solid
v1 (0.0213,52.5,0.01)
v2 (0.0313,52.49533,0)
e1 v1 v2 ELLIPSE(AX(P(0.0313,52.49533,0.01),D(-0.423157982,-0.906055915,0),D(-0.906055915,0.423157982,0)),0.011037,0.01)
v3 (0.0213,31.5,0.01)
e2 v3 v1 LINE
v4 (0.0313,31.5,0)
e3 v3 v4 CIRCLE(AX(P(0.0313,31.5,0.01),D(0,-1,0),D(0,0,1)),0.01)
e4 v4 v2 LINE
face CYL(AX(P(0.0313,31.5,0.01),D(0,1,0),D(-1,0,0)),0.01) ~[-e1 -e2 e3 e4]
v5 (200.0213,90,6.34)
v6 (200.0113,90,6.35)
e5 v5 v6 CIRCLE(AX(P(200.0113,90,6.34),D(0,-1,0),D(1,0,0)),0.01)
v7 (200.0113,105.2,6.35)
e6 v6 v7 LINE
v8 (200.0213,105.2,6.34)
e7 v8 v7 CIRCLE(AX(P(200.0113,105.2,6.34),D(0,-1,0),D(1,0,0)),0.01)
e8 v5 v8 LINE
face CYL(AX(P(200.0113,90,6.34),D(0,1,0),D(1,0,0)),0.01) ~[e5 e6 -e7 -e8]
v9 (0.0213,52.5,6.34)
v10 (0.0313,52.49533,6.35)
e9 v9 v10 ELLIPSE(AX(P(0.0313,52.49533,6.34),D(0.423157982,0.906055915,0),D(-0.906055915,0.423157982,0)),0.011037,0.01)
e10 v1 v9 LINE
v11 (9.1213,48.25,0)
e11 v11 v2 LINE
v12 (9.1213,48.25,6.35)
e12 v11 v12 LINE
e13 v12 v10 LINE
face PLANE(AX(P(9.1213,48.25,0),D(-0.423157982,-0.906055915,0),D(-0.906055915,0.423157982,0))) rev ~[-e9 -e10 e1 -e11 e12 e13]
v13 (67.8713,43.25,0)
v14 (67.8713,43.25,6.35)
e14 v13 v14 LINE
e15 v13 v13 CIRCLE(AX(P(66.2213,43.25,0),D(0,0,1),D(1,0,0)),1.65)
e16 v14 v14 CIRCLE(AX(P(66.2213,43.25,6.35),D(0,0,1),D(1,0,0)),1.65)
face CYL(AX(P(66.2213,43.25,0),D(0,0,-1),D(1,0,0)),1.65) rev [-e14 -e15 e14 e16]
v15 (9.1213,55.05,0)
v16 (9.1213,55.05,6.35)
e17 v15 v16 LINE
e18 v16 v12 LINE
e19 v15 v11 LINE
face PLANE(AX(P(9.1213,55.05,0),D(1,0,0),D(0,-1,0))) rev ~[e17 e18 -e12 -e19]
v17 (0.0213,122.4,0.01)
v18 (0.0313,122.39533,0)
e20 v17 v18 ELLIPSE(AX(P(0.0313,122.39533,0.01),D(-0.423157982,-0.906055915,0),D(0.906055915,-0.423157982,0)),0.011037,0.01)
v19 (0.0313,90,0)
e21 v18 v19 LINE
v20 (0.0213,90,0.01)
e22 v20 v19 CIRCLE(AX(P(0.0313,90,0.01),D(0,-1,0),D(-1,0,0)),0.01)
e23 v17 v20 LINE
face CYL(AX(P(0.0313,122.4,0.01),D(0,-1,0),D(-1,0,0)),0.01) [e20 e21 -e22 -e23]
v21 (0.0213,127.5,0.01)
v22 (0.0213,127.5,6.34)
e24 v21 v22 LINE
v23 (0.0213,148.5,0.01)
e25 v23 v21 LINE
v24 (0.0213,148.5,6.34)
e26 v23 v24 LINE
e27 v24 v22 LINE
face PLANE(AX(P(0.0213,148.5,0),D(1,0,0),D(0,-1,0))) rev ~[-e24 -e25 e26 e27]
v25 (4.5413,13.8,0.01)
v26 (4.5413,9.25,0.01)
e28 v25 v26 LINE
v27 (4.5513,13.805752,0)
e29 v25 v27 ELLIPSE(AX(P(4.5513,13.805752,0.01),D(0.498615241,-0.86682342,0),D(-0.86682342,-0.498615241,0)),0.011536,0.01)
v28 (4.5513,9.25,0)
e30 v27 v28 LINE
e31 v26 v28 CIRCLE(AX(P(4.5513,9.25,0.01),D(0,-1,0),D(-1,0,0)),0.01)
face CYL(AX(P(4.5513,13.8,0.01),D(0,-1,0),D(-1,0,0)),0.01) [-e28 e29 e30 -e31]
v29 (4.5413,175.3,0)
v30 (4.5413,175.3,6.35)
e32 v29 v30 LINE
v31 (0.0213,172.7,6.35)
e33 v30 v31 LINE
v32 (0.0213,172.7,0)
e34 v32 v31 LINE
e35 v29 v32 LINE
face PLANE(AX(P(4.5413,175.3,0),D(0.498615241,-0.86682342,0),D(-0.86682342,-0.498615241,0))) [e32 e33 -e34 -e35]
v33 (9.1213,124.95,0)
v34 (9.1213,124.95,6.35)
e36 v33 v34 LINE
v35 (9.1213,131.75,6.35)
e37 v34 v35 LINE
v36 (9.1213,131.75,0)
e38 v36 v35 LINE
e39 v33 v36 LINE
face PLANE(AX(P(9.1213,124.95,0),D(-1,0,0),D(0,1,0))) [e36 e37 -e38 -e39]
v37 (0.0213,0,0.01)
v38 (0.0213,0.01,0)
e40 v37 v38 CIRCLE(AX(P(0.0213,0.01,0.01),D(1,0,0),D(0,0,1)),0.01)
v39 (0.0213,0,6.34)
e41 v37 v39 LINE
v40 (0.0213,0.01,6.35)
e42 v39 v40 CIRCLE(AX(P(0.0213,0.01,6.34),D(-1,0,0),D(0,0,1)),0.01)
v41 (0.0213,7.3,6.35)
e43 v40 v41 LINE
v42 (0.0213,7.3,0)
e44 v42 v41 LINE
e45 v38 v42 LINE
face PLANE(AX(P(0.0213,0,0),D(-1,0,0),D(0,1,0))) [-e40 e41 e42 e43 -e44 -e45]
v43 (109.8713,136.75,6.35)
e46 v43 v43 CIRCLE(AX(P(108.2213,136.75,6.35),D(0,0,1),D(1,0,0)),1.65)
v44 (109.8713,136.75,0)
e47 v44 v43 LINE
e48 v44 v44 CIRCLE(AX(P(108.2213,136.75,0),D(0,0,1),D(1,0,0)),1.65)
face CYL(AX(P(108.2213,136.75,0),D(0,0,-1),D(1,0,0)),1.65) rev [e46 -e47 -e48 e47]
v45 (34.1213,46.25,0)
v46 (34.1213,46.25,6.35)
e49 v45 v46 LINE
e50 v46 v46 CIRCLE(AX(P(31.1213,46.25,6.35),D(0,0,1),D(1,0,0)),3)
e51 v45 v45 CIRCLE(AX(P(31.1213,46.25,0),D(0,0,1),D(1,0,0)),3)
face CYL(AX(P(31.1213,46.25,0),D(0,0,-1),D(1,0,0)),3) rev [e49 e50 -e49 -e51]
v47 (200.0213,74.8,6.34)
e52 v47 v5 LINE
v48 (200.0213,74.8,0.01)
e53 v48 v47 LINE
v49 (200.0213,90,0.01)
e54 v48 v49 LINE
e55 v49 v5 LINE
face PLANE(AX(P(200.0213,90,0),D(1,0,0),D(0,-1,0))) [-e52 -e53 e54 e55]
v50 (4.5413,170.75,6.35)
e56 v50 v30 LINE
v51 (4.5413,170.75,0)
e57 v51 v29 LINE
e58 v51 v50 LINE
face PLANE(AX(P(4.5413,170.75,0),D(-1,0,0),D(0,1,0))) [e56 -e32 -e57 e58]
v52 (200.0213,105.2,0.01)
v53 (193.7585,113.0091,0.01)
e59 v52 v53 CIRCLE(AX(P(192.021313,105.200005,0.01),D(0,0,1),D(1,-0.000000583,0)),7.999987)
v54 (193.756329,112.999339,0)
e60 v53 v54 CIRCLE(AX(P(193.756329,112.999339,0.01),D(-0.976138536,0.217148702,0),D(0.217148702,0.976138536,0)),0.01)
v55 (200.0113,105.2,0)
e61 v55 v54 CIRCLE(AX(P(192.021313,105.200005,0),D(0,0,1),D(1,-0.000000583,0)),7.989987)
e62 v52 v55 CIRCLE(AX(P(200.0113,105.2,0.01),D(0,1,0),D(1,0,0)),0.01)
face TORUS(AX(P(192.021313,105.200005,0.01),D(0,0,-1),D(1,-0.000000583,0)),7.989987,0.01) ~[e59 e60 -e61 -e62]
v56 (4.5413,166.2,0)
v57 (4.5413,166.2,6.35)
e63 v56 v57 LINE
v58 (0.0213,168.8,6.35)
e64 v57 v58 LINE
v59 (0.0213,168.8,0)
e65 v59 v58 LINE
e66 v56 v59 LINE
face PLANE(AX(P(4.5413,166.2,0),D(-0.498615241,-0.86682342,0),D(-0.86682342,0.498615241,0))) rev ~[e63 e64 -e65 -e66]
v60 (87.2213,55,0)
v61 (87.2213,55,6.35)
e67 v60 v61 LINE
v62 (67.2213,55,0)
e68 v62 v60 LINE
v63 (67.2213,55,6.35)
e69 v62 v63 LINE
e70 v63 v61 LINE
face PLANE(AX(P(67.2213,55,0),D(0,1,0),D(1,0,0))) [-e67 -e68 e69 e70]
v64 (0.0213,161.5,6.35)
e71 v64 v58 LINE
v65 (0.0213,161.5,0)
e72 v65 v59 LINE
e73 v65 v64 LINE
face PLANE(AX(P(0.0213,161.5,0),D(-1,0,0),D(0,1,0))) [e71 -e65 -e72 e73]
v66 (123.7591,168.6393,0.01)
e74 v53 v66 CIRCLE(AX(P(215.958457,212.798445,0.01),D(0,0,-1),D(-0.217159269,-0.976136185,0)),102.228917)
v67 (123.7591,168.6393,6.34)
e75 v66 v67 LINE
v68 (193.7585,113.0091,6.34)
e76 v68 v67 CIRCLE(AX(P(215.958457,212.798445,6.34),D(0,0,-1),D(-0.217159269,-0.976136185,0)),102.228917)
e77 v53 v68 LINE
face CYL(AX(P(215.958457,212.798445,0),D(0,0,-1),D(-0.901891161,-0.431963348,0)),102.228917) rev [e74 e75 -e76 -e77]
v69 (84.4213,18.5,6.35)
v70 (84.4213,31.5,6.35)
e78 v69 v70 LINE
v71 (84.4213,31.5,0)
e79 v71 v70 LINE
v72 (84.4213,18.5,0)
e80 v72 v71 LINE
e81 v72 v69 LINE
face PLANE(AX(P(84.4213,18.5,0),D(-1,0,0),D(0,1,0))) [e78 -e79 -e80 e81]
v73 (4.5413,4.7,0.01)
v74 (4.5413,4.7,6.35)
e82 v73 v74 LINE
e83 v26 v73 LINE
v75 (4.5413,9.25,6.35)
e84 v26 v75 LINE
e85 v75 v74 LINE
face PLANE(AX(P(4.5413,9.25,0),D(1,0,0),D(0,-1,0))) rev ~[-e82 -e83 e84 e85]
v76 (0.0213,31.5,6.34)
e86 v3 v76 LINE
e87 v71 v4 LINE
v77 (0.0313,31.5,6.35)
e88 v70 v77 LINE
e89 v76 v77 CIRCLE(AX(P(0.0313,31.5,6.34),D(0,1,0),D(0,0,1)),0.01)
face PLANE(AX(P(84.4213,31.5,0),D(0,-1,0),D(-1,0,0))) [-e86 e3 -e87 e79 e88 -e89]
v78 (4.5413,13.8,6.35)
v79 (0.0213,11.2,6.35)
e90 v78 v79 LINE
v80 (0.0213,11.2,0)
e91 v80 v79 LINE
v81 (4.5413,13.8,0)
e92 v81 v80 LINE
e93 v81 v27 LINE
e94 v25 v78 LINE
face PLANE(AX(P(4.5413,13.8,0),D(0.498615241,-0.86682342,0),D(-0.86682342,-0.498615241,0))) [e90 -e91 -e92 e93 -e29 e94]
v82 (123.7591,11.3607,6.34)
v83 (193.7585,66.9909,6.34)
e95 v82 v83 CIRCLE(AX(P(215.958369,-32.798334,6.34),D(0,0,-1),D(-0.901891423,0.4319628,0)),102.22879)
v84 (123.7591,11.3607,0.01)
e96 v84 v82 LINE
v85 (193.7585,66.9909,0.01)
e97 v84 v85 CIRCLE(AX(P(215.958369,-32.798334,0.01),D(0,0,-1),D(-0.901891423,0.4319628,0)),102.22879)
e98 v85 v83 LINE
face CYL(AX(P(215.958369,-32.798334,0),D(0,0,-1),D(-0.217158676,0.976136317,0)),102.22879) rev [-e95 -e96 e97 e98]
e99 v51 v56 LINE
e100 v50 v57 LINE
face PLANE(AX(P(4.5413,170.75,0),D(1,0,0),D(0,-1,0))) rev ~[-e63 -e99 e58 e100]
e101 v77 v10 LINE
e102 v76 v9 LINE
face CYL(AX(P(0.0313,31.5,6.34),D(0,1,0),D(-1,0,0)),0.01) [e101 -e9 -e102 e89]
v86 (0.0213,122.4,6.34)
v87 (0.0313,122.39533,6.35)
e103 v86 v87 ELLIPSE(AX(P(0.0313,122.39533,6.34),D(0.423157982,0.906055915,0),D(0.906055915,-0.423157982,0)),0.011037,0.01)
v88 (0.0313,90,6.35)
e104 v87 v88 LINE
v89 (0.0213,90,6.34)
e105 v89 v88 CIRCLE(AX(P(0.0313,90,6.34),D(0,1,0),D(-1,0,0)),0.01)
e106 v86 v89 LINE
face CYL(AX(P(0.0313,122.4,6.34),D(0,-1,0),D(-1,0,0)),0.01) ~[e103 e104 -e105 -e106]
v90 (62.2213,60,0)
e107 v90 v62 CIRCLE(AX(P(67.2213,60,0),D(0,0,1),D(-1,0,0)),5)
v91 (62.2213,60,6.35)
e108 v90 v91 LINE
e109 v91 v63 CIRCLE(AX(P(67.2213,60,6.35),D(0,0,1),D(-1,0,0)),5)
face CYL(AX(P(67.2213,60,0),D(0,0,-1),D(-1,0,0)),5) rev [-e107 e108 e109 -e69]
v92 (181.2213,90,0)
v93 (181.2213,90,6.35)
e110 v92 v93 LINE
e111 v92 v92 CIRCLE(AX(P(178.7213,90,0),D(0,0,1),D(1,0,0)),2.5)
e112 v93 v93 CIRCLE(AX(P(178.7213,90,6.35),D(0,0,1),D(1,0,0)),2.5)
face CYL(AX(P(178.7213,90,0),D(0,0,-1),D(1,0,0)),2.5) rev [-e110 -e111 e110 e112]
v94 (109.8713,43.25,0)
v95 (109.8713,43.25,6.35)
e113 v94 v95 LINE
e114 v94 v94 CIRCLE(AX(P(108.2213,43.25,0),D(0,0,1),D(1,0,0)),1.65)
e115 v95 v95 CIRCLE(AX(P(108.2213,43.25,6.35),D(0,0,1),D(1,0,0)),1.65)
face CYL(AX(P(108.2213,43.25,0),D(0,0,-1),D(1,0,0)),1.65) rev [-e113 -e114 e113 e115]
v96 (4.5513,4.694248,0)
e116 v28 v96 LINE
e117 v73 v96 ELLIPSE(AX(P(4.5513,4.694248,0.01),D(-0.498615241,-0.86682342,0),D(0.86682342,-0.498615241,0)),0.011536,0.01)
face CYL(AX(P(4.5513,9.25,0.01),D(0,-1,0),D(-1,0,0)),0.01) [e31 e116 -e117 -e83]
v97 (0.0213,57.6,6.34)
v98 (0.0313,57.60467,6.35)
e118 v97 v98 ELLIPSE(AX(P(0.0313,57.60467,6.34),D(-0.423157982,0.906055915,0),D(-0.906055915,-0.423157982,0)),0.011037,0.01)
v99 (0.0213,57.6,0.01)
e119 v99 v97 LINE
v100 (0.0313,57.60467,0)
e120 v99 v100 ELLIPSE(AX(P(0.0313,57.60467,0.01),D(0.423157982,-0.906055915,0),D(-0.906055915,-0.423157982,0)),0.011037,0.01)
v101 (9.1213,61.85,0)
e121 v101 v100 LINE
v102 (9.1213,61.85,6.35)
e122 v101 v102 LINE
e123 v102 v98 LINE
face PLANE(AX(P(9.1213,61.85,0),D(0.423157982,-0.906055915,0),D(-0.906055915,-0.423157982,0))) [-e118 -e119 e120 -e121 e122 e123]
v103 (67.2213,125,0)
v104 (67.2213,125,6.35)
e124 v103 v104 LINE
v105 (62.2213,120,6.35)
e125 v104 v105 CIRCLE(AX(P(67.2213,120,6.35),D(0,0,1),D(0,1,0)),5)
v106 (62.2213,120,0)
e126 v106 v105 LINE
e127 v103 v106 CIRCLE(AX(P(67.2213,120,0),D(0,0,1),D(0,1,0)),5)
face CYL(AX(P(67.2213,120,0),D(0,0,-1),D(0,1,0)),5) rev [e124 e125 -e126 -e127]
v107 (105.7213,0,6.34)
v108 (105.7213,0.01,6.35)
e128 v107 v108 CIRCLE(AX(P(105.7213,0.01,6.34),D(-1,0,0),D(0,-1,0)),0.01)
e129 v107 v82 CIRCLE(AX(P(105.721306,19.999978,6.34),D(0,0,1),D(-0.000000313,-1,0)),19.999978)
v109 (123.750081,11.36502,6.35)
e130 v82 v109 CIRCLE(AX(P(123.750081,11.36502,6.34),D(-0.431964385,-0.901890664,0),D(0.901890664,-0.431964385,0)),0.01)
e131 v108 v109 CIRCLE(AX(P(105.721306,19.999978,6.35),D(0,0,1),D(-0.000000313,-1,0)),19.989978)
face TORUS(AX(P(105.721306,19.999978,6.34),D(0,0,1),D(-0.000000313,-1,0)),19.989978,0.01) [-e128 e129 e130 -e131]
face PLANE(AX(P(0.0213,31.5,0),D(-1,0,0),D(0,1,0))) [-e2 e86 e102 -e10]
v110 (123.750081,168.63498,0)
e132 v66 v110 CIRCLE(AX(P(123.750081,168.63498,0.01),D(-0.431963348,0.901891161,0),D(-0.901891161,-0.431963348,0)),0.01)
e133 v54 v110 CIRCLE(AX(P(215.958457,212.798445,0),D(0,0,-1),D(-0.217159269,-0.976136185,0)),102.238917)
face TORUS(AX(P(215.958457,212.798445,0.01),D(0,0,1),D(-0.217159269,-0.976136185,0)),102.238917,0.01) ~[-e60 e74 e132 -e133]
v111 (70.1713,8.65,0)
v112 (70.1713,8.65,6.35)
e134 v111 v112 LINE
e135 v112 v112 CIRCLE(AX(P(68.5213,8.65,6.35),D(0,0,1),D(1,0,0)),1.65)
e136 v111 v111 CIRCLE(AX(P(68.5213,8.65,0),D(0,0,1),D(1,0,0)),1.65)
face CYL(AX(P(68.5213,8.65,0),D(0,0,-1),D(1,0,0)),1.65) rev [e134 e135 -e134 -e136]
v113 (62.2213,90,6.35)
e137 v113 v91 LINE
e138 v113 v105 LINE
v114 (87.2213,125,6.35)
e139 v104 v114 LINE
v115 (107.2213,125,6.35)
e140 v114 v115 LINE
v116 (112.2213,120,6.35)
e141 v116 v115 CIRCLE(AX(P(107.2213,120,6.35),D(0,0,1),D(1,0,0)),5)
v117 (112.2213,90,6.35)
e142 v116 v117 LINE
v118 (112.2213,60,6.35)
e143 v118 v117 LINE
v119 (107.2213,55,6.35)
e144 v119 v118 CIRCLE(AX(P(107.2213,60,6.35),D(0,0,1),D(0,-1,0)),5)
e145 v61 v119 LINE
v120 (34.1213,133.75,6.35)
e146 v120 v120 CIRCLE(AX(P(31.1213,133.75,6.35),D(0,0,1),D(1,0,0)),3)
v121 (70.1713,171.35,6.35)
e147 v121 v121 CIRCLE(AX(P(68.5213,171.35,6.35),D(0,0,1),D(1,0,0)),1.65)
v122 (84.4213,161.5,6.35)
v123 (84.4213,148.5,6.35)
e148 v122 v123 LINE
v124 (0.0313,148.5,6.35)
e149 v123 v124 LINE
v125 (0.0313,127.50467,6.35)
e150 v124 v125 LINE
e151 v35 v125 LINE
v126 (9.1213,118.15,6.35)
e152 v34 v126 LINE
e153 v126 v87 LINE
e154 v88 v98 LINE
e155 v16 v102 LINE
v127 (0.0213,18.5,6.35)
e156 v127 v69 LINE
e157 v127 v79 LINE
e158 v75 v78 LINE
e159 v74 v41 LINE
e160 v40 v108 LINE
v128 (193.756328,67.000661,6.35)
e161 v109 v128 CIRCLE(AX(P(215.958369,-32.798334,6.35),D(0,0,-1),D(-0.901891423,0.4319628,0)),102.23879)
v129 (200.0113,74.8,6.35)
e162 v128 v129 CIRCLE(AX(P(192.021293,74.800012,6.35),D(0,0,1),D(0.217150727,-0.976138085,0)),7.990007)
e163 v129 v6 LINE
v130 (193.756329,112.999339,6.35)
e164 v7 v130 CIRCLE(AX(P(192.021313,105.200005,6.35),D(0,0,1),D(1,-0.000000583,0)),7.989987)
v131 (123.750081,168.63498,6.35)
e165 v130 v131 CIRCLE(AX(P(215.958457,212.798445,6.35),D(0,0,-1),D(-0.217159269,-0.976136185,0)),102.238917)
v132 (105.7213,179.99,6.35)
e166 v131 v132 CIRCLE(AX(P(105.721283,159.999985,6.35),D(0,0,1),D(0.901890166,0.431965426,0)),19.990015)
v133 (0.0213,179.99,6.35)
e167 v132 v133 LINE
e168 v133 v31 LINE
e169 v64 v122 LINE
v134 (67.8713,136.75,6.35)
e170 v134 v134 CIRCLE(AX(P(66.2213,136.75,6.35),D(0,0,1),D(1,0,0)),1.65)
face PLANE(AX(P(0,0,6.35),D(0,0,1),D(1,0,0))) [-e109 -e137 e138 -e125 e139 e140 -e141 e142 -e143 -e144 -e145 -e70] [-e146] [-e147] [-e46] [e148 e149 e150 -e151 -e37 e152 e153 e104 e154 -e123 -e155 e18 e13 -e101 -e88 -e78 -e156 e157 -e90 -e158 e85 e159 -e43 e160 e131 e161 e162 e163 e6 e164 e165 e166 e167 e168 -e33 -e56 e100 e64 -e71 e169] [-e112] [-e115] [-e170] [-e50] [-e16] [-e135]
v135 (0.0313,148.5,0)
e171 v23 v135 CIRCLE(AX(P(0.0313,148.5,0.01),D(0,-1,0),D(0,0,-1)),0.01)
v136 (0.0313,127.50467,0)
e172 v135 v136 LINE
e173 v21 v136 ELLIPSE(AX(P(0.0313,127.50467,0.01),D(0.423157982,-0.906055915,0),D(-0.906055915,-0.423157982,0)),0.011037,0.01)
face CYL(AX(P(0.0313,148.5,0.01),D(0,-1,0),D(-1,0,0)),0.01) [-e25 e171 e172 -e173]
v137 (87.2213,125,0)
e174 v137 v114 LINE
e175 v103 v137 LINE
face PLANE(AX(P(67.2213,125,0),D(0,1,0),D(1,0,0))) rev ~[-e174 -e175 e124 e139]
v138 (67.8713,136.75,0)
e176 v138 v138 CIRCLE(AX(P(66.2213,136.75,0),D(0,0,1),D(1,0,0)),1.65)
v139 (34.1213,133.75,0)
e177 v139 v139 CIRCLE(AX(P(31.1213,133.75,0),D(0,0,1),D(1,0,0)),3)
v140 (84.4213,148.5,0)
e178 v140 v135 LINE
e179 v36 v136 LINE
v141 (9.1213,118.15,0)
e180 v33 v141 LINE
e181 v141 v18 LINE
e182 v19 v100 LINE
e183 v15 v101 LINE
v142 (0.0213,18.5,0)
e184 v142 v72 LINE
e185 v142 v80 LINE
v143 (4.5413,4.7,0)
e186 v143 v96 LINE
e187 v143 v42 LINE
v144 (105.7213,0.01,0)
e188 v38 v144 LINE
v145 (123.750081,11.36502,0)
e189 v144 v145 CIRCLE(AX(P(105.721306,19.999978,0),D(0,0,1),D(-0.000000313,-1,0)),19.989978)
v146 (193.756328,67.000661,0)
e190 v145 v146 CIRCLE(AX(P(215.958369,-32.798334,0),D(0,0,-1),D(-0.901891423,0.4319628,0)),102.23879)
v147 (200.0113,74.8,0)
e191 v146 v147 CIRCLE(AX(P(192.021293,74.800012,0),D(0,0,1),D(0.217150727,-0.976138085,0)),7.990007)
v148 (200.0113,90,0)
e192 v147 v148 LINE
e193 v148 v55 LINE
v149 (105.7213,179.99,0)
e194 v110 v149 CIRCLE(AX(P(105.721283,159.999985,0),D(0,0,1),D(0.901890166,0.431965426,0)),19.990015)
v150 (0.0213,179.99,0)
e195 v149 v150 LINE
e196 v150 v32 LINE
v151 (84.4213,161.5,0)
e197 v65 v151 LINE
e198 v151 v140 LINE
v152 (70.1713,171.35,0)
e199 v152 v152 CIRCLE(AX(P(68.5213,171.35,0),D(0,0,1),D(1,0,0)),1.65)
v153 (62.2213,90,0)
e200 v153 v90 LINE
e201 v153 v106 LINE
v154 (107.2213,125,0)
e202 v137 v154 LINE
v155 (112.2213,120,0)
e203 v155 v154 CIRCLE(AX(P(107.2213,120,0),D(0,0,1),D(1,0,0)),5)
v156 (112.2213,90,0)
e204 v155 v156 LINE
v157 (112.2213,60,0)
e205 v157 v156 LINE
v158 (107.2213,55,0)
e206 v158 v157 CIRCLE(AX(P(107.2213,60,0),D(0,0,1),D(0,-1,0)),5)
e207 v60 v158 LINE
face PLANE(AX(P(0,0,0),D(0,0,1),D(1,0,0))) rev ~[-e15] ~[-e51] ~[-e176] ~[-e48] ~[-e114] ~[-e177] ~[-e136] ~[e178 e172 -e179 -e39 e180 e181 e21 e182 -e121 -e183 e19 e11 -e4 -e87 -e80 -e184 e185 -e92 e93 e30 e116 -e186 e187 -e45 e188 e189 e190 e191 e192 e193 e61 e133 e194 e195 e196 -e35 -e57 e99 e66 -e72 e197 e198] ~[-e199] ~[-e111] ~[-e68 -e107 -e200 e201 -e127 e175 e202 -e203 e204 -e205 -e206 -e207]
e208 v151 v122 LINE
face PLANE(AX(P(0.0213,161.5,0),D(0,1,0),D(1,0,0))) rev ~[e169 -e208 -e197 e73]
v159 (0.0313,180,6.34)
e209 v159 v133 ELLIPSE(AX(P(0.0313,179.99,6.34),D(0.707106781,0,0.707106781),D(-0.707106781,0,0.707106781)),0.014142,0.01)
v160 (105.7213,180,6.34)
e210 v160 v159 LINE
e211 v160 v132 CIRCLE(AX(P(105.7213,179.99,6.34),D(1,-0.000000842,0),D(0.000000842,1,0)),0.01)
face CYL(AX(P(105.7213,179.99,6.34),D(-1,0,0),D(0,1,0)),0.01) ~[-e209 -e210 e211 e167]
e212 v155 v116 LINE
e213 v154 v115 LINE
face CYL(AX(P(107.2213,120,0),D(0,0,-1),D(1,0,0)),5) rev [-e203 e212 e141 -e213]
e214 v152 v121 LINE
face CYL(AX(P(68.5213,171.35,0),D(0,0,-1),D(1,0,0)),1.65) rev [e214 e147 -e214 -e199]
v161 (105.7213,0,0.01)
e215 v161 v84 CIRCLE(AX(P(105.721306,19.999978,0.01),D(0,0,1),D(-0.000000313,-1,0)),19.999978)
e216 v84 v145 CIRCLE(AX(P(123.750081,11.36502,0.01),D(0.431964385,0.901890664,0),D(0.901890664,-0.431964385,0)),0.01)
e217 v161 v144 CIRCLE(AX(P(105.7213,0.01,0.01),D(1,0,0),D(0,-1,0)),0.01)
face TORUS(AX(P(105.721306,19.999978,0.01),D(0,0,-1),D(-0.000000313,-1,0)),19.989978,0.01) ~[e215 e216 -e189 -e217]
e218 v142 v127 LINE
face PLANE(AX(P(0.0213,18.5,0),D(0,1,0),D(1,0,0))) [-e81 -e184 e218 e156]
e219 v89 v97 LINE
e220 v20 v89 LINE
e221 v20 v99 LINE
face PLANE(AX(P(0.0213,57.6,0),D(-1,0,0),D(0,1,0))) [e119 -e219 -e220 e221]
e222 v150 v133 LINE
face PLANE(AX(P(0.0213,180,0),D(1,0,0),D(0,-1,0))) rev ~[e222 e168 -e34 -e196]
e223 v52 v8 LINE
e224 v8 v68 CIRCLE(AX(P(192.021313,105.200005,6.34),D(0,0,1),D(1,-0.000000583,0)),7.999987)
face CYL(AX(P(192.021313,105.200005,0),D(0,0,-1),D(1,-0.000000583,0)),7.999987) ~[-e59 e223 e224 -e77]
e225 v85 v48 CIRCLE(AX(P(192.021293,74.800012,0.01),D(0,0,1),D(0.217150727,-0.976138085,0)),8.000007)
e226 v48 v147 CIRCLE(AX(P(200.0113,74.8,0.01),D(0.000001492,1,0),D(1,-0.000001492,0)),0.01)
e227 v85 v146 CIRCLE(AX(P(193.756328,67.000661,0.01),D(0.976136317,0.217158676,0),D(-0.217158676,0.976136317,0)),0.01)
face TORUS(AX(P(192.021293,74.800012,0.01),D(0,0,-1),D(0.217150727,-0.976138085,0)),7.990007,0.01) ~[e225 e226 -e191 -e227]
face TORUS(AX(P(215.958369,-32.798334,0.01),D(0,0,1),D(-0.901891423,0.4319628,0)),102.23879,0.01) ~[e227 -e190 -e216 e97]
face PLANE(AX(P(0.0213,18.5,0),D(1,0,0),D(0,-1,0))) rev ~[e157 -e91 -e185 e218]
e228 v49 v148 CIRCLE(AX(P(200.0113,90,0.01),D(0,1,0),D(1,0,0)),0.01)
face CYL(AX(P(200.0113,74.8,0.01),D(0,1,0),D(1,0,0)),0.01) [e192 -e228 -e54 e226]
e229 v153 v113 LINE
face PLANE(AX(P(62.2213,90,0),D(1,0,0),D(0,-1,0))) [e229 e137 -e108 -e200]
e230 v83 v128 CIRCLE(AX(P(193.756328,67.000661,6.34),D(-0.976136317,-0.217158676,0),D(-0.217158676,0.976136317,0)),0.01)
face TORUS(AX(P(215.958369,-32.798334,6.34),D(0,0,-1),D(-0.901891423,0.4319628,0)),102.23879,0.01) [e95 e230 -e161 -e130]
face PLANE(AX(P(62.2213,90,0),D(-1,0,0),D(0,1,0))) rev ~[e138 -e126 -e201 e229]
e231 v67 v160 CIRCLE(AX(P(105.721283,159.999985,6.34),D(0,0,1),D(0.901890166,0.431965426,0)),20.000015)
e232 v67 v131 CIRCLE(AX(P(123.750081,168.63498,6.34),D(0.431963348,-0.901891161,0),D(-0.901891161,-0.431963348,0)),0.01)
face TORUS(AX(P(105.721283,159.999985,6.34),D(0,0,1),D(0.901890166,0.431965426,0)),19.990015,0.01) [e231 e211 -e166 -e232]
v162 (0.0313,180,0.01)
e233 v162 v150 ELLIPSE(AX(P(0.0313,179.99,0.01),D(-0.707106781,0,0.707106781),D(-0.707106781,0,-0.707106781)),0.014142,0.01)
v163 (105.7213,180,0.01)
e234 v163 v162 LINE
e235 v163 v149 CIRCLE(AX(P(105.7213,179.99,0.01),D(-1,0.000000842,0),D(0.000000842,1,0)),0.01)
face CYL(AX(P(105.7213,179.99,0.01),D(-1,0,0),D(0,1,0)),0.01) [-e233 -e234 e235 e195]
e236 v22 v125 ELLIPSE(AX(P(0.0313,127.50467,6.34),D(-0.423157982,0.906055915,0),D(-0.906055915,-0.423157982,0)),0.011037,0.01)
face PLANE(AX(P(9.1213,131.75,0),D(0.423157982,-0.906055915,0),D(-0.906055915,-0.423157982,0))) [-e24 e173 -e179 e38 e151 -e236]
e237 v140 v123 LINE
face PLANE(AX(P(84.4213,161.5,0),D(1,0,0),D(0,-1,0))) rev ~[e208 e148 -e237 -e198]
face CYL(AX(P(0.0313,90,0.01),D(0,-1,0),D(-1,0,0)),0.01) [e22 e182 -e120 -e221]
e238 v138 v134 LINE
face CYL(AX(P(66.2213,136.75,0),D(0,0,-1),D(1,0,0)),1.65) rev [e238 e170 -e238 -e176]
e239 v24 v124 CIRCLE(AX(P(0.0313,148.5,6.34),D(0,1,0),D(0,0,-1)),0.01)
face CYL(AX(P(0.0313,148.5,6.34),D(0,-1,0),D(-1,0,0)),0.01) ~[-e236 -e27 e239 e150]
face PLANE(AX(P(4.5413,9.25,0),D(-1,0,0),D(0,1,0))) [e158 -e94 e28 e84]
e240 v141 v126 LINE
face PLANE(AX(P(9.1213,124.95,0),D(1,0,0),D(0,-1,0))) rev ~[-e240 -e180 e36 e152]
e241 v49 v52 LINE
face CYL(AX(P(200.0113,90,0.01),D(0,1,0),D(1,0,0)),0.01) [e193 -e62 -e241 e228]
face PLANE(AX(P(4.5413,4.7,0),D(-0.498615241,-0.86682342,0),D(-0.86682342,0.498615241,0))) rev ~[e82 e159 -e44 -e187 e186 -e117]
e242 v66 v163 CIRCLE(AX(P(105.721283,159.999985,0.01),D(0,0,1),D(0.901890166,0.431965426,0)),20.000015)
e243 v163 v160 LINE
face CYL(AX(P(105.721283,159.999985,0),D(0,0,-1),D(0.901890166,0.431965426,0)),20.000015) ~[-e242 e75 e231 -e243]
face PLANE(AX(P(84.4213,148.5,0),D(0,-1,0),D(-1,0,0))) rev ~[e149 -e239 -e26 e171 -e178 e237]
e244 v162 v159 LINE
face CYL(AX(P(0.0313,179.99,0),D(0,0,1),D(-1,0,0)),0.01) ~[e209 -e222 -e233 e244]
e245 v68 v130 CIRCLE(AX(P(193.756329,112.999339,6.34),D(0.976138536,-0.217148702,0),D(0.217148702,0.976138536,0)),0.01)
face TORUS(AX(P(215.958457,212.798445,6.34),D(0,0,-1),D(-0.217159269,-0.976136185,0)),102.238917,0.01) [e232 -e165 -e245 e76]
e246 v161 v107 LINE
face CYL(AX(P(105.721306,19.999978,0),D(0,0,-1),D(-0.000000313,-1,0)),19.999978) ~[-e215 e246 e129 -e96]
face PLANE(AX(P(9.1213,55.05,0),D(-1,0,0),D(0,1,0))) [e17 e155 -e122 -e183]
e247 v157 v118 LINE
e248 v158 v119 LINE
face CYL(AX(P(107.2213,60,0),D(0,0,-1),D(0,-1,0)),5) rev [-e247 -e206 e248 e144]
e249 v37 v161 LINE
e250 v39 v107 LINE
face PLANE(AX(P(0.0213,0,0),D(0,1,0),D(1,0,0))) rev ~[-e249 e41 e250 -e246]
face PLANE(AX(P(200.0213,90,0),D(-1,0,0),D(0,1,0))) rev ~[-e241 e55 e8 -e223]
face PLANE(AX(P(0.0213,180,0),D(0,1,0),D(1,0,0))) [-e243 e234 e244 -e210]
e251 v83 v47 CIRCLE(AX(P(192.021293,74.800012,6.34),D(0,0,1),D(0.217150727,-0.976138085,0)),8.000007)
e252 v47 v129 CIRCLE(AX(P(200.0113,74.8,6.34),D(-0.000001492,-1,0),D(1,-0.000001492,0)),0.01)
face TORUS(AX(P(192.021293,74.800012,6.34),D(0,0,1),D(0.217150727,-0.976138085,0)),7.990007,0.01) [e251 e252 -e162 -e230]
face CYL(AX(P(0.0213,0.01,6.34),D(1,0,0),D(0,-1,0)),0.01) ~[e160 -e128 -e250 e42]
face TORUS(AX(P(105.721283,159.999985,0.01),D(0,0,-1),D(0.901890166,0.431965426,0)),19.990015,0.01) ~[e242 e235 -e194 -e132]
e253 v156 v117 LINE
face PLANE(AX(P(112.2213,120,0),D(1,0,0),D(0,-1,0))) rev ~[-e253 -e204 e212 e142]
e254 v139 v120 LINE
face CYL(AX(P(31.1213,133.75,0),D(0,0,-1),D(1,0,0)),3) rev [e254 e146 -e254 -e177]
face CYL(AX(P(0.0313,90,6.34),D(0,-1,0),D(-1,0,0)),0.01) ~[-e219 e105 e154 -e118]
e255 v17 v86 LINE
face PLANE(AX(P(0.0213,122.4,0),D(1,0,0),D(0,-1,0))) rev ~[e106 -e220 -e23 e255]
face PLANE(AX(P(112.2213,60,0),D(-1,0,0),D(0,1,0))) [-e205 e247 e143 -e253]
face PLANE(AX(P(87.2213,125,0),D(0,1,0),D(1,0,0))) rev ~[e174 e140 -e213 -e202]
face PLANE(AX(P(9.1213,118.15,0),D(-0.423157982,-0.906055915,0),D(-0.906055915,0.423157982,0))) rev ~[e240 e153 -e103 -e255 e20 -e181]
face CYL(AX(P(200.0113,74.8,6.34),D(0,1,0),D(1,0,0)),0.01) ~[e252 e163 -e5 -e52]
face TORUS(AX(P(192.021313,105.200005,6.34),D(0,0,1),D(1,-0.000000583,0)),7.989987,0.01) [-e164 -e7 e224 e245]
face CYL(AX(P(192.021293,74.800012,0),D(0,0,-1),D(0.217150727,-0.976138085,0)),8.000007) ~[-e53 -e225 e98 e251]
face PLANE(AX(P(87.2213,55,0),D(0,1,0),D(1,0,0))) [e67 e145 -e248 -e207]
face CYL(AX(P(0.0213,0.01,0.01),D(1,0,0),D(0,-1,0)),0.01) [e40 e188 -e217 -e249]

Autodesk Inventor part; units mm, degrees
ref_plane "YZ Plane" through (0, 0, 0) normal (1, 0, 0) x (0, 1, 0)
ref_plane "XZ Plane" through (0, 0, 0) normal (0, 1, 0) x (-1, 0, 0)
ref_plane "XY Plane" through (0, 0, 0) normal (0, 0, 1) x (1, 0, 0)
sketch "Boceto1" plane through (0, 0, 0) normal (0, 0, 1) x (1, 0, 0)
  line L0 (0.0213, 161.5) -> (84.4213, 161.5)
  line L1 (0.0213, 180) -> (0.0213, 172.7)
  line L2 (0.0213, 161.5) -> (0.0213, 168.8)
  line L3 (4.5413, 170.75) -> (4.5413, 175.3)
  line L4 (4.5413, 175.3) -> (0.0213, 172.7)
  line L5 (4.5413, 170.75) -> (4.5413, 166.2)
  line L6 (4.5413, 166.2) -> (0.0213, 168.8)
  line L7 (0.0213, 161.5) -> (84.4213, 161.5)
  line L8 (84.4213, 161.5) -> (84.4213, 148.5)
  line L9 (84.4213, 148.5) -> (0.0213, 148.5)
  line L10 (0.0213, 148.5) -> (0.0213, 127.5)
  line L11 (9.1213, 124.95) -> (9.1213, 131.75)
  line L12 (9.1213, 131.75) -> (0.0213, 127.5)
  line L13 (9.1213, 124.95) -> (9.1213, 118.15)
  line L14 (9.1213, 118.15) -> (0.0213, 122.4)
  line L15 (0.0213, 122.4) -> (0.0213, 90)
  line L16 (0.0213, 180) -> (105.7213, 180)
  line L17 (200.0213, 90) -> (200.0213, 105.2)
  arc A0 (200.0213, 105.2) -> (193.7585, 113.0091) centre (192.0213, 105.2) ccw
  arc A1 (123.7591, 168.6393) -> (105.7213, 180) centre (105.7213, 160) ccw
  arc A2 (123.7591, 168.6393) -> (193.7585, 113.0091) centre (215.9584, 212.7984) ccw
  line L18 (62.2213, 90) -> (62.2213, 120)
  line L19 (112.2213, 120) -> (112.2213, 90)
  circle A3 centre (178.7213, 90) radius 2.5
  circle A4 centre (31.1213, 133.75) radius 3
  line L20 (67.2213, 125) -> (87.2213, 125)
  arc A5 (67.2213, 125) -> (62.2213, 120) centre (67.2213, 120) ccw
  circle A6 centre (66.2213, 136.75) radius 1.65
  circle A7 centre (108.2213, 136.75) radius 1.65
  circle A8 centre (68.5213, 171.35) radius 1.65
  line L21 (87.2213, 125) -> (107.2213, 125)
  arc A9 (112.2213, 120) -> (107.2213, 125) centre (107.2213, 120) ccw
  line L22 (0.0213, 18.5) -> (84.4213, 18.5)
  line L23 (0.0213, 0) -> (0.0213, 7.3)
  line L24 (0.0213, 18.5) -> (0.0213, 11.2)
  line L25 (4.5413, 9.25) -> (4.5413, 4.7)
  line L26 (4.5413, 4.7) -> (0.0213, 7.3)
  line L27 (4.5413, 9.25) -> (4.5413, 13.8)
  line L28 (4.5413, 13.8) -> (0.0213, 11.2)
  line L29 (0.0213, 18.5) -> (84.4213, 18.5)
  line L30 (84.4213, 18.5) -> (84.4213, 31.5)
  line L31 (84.4213, 31.5) -> (0.0213, 31.5)
  line L32 (0.0213, 31.5) -> (0.0213, 52.5)
  line L33 (9.1213, 55.05) -> (9.1213, 48.25)
  line L34 (9.1213, 48.25) -> (0.0213, 52.5)
  line L35 (9.1213, 55.05) -> (9.1213, 61.85)
  line L36 (9.1213, 61.85) -> (0.0213, 57.6)
  line L37 (0.0213, 57.6) -> (0.0213, 90)
  line L38 (0.0213, 0) -> (105.7213, 0)
  line L39 (200.0213, 90) -> (200.0213, 74.8)
  arc A10 (193.7585, 66.9909) -> (200.0213, 74.8) centre (192.0213, 74.8) ccw
  arc A11 (105.7213, 0) -> (123.7591, 11.3607) centre (105.7213, 20) ccw
  arc A12 (193.7585, 66.9909) -> (123.7591, 11.3607) centre (215.9584, -32.7984) ccw
  line L40 (62.2213, 90) -> (62.2213, 60)
  line L41 (112.2213, 60) -> (112.2213, 90)
  circle A13 centre (178.7213, 90) radius 2.5
  circle A14 centre (31.1213, 46.25) radius 3
  line L42 (67.2213, 55) -> (87.2213, 55)
  arc A15 (62.2213, 60) -> (67.2213, 55) centre (67.2213, 60) ccw
  circle A16 centre (66.2213, 43.25) radius 1.65
  circle A17 centre (108.2213, 43.25) radius 1.65
  circle A18 centre (68.5213, 8.65) radius 1.65
  line L43 (87.2213, 55) -> (107.2213, 55)
  arc A19 (107.2213, 55) -> (112.2213, 60) centre (107.2213, 60) ccw
  point P0 (0, 0)
extrude "Extrusión1" add sketch "Boceto1" along normal blind 6.35
fillet "Empalme1" radius 0.01 26 edges at (116.38, 176.9231, 0) (152.3544, 132.7655, 0) (198.2622, 110.2051, 0) (200.0213, 97.6, 0) (198.2622, 69.7949, 0) (152.3544, 47.2345, 0) (116.38, 3.0769, 0) (52.8713, 0, 0) (52.8713, 180, 0) (116.38, 176.9231, 6.35) (152.3544, 132.7655, 6.35) (198.2622, 110.2051, 6.35) (200.0213, 97.6, 6.35) (198.2622, 69.7949, 6.35) (152.3544, 47.2345, 6.35) (116.38, 3.0769, 6.35) (52.8713, 0, 6.35) (52.8713, 180, 6.35) (0.0213, 180, 3.175) (0.0213, 138, 6.35) (0.0213, 138, 0) (0.0213, 106.2, 6.35) (0.0213, 106.2, 0) (0.0213, 42, 6.35) (0.0213, 42, 0) (4.5413, 6.975, 0)
sketch "Boceto2" plane through (0, 0, 6.35) normal (0, 0, 1) x (1, 0, 0)
  point P0 (0, 0)
properties part number "amir"
